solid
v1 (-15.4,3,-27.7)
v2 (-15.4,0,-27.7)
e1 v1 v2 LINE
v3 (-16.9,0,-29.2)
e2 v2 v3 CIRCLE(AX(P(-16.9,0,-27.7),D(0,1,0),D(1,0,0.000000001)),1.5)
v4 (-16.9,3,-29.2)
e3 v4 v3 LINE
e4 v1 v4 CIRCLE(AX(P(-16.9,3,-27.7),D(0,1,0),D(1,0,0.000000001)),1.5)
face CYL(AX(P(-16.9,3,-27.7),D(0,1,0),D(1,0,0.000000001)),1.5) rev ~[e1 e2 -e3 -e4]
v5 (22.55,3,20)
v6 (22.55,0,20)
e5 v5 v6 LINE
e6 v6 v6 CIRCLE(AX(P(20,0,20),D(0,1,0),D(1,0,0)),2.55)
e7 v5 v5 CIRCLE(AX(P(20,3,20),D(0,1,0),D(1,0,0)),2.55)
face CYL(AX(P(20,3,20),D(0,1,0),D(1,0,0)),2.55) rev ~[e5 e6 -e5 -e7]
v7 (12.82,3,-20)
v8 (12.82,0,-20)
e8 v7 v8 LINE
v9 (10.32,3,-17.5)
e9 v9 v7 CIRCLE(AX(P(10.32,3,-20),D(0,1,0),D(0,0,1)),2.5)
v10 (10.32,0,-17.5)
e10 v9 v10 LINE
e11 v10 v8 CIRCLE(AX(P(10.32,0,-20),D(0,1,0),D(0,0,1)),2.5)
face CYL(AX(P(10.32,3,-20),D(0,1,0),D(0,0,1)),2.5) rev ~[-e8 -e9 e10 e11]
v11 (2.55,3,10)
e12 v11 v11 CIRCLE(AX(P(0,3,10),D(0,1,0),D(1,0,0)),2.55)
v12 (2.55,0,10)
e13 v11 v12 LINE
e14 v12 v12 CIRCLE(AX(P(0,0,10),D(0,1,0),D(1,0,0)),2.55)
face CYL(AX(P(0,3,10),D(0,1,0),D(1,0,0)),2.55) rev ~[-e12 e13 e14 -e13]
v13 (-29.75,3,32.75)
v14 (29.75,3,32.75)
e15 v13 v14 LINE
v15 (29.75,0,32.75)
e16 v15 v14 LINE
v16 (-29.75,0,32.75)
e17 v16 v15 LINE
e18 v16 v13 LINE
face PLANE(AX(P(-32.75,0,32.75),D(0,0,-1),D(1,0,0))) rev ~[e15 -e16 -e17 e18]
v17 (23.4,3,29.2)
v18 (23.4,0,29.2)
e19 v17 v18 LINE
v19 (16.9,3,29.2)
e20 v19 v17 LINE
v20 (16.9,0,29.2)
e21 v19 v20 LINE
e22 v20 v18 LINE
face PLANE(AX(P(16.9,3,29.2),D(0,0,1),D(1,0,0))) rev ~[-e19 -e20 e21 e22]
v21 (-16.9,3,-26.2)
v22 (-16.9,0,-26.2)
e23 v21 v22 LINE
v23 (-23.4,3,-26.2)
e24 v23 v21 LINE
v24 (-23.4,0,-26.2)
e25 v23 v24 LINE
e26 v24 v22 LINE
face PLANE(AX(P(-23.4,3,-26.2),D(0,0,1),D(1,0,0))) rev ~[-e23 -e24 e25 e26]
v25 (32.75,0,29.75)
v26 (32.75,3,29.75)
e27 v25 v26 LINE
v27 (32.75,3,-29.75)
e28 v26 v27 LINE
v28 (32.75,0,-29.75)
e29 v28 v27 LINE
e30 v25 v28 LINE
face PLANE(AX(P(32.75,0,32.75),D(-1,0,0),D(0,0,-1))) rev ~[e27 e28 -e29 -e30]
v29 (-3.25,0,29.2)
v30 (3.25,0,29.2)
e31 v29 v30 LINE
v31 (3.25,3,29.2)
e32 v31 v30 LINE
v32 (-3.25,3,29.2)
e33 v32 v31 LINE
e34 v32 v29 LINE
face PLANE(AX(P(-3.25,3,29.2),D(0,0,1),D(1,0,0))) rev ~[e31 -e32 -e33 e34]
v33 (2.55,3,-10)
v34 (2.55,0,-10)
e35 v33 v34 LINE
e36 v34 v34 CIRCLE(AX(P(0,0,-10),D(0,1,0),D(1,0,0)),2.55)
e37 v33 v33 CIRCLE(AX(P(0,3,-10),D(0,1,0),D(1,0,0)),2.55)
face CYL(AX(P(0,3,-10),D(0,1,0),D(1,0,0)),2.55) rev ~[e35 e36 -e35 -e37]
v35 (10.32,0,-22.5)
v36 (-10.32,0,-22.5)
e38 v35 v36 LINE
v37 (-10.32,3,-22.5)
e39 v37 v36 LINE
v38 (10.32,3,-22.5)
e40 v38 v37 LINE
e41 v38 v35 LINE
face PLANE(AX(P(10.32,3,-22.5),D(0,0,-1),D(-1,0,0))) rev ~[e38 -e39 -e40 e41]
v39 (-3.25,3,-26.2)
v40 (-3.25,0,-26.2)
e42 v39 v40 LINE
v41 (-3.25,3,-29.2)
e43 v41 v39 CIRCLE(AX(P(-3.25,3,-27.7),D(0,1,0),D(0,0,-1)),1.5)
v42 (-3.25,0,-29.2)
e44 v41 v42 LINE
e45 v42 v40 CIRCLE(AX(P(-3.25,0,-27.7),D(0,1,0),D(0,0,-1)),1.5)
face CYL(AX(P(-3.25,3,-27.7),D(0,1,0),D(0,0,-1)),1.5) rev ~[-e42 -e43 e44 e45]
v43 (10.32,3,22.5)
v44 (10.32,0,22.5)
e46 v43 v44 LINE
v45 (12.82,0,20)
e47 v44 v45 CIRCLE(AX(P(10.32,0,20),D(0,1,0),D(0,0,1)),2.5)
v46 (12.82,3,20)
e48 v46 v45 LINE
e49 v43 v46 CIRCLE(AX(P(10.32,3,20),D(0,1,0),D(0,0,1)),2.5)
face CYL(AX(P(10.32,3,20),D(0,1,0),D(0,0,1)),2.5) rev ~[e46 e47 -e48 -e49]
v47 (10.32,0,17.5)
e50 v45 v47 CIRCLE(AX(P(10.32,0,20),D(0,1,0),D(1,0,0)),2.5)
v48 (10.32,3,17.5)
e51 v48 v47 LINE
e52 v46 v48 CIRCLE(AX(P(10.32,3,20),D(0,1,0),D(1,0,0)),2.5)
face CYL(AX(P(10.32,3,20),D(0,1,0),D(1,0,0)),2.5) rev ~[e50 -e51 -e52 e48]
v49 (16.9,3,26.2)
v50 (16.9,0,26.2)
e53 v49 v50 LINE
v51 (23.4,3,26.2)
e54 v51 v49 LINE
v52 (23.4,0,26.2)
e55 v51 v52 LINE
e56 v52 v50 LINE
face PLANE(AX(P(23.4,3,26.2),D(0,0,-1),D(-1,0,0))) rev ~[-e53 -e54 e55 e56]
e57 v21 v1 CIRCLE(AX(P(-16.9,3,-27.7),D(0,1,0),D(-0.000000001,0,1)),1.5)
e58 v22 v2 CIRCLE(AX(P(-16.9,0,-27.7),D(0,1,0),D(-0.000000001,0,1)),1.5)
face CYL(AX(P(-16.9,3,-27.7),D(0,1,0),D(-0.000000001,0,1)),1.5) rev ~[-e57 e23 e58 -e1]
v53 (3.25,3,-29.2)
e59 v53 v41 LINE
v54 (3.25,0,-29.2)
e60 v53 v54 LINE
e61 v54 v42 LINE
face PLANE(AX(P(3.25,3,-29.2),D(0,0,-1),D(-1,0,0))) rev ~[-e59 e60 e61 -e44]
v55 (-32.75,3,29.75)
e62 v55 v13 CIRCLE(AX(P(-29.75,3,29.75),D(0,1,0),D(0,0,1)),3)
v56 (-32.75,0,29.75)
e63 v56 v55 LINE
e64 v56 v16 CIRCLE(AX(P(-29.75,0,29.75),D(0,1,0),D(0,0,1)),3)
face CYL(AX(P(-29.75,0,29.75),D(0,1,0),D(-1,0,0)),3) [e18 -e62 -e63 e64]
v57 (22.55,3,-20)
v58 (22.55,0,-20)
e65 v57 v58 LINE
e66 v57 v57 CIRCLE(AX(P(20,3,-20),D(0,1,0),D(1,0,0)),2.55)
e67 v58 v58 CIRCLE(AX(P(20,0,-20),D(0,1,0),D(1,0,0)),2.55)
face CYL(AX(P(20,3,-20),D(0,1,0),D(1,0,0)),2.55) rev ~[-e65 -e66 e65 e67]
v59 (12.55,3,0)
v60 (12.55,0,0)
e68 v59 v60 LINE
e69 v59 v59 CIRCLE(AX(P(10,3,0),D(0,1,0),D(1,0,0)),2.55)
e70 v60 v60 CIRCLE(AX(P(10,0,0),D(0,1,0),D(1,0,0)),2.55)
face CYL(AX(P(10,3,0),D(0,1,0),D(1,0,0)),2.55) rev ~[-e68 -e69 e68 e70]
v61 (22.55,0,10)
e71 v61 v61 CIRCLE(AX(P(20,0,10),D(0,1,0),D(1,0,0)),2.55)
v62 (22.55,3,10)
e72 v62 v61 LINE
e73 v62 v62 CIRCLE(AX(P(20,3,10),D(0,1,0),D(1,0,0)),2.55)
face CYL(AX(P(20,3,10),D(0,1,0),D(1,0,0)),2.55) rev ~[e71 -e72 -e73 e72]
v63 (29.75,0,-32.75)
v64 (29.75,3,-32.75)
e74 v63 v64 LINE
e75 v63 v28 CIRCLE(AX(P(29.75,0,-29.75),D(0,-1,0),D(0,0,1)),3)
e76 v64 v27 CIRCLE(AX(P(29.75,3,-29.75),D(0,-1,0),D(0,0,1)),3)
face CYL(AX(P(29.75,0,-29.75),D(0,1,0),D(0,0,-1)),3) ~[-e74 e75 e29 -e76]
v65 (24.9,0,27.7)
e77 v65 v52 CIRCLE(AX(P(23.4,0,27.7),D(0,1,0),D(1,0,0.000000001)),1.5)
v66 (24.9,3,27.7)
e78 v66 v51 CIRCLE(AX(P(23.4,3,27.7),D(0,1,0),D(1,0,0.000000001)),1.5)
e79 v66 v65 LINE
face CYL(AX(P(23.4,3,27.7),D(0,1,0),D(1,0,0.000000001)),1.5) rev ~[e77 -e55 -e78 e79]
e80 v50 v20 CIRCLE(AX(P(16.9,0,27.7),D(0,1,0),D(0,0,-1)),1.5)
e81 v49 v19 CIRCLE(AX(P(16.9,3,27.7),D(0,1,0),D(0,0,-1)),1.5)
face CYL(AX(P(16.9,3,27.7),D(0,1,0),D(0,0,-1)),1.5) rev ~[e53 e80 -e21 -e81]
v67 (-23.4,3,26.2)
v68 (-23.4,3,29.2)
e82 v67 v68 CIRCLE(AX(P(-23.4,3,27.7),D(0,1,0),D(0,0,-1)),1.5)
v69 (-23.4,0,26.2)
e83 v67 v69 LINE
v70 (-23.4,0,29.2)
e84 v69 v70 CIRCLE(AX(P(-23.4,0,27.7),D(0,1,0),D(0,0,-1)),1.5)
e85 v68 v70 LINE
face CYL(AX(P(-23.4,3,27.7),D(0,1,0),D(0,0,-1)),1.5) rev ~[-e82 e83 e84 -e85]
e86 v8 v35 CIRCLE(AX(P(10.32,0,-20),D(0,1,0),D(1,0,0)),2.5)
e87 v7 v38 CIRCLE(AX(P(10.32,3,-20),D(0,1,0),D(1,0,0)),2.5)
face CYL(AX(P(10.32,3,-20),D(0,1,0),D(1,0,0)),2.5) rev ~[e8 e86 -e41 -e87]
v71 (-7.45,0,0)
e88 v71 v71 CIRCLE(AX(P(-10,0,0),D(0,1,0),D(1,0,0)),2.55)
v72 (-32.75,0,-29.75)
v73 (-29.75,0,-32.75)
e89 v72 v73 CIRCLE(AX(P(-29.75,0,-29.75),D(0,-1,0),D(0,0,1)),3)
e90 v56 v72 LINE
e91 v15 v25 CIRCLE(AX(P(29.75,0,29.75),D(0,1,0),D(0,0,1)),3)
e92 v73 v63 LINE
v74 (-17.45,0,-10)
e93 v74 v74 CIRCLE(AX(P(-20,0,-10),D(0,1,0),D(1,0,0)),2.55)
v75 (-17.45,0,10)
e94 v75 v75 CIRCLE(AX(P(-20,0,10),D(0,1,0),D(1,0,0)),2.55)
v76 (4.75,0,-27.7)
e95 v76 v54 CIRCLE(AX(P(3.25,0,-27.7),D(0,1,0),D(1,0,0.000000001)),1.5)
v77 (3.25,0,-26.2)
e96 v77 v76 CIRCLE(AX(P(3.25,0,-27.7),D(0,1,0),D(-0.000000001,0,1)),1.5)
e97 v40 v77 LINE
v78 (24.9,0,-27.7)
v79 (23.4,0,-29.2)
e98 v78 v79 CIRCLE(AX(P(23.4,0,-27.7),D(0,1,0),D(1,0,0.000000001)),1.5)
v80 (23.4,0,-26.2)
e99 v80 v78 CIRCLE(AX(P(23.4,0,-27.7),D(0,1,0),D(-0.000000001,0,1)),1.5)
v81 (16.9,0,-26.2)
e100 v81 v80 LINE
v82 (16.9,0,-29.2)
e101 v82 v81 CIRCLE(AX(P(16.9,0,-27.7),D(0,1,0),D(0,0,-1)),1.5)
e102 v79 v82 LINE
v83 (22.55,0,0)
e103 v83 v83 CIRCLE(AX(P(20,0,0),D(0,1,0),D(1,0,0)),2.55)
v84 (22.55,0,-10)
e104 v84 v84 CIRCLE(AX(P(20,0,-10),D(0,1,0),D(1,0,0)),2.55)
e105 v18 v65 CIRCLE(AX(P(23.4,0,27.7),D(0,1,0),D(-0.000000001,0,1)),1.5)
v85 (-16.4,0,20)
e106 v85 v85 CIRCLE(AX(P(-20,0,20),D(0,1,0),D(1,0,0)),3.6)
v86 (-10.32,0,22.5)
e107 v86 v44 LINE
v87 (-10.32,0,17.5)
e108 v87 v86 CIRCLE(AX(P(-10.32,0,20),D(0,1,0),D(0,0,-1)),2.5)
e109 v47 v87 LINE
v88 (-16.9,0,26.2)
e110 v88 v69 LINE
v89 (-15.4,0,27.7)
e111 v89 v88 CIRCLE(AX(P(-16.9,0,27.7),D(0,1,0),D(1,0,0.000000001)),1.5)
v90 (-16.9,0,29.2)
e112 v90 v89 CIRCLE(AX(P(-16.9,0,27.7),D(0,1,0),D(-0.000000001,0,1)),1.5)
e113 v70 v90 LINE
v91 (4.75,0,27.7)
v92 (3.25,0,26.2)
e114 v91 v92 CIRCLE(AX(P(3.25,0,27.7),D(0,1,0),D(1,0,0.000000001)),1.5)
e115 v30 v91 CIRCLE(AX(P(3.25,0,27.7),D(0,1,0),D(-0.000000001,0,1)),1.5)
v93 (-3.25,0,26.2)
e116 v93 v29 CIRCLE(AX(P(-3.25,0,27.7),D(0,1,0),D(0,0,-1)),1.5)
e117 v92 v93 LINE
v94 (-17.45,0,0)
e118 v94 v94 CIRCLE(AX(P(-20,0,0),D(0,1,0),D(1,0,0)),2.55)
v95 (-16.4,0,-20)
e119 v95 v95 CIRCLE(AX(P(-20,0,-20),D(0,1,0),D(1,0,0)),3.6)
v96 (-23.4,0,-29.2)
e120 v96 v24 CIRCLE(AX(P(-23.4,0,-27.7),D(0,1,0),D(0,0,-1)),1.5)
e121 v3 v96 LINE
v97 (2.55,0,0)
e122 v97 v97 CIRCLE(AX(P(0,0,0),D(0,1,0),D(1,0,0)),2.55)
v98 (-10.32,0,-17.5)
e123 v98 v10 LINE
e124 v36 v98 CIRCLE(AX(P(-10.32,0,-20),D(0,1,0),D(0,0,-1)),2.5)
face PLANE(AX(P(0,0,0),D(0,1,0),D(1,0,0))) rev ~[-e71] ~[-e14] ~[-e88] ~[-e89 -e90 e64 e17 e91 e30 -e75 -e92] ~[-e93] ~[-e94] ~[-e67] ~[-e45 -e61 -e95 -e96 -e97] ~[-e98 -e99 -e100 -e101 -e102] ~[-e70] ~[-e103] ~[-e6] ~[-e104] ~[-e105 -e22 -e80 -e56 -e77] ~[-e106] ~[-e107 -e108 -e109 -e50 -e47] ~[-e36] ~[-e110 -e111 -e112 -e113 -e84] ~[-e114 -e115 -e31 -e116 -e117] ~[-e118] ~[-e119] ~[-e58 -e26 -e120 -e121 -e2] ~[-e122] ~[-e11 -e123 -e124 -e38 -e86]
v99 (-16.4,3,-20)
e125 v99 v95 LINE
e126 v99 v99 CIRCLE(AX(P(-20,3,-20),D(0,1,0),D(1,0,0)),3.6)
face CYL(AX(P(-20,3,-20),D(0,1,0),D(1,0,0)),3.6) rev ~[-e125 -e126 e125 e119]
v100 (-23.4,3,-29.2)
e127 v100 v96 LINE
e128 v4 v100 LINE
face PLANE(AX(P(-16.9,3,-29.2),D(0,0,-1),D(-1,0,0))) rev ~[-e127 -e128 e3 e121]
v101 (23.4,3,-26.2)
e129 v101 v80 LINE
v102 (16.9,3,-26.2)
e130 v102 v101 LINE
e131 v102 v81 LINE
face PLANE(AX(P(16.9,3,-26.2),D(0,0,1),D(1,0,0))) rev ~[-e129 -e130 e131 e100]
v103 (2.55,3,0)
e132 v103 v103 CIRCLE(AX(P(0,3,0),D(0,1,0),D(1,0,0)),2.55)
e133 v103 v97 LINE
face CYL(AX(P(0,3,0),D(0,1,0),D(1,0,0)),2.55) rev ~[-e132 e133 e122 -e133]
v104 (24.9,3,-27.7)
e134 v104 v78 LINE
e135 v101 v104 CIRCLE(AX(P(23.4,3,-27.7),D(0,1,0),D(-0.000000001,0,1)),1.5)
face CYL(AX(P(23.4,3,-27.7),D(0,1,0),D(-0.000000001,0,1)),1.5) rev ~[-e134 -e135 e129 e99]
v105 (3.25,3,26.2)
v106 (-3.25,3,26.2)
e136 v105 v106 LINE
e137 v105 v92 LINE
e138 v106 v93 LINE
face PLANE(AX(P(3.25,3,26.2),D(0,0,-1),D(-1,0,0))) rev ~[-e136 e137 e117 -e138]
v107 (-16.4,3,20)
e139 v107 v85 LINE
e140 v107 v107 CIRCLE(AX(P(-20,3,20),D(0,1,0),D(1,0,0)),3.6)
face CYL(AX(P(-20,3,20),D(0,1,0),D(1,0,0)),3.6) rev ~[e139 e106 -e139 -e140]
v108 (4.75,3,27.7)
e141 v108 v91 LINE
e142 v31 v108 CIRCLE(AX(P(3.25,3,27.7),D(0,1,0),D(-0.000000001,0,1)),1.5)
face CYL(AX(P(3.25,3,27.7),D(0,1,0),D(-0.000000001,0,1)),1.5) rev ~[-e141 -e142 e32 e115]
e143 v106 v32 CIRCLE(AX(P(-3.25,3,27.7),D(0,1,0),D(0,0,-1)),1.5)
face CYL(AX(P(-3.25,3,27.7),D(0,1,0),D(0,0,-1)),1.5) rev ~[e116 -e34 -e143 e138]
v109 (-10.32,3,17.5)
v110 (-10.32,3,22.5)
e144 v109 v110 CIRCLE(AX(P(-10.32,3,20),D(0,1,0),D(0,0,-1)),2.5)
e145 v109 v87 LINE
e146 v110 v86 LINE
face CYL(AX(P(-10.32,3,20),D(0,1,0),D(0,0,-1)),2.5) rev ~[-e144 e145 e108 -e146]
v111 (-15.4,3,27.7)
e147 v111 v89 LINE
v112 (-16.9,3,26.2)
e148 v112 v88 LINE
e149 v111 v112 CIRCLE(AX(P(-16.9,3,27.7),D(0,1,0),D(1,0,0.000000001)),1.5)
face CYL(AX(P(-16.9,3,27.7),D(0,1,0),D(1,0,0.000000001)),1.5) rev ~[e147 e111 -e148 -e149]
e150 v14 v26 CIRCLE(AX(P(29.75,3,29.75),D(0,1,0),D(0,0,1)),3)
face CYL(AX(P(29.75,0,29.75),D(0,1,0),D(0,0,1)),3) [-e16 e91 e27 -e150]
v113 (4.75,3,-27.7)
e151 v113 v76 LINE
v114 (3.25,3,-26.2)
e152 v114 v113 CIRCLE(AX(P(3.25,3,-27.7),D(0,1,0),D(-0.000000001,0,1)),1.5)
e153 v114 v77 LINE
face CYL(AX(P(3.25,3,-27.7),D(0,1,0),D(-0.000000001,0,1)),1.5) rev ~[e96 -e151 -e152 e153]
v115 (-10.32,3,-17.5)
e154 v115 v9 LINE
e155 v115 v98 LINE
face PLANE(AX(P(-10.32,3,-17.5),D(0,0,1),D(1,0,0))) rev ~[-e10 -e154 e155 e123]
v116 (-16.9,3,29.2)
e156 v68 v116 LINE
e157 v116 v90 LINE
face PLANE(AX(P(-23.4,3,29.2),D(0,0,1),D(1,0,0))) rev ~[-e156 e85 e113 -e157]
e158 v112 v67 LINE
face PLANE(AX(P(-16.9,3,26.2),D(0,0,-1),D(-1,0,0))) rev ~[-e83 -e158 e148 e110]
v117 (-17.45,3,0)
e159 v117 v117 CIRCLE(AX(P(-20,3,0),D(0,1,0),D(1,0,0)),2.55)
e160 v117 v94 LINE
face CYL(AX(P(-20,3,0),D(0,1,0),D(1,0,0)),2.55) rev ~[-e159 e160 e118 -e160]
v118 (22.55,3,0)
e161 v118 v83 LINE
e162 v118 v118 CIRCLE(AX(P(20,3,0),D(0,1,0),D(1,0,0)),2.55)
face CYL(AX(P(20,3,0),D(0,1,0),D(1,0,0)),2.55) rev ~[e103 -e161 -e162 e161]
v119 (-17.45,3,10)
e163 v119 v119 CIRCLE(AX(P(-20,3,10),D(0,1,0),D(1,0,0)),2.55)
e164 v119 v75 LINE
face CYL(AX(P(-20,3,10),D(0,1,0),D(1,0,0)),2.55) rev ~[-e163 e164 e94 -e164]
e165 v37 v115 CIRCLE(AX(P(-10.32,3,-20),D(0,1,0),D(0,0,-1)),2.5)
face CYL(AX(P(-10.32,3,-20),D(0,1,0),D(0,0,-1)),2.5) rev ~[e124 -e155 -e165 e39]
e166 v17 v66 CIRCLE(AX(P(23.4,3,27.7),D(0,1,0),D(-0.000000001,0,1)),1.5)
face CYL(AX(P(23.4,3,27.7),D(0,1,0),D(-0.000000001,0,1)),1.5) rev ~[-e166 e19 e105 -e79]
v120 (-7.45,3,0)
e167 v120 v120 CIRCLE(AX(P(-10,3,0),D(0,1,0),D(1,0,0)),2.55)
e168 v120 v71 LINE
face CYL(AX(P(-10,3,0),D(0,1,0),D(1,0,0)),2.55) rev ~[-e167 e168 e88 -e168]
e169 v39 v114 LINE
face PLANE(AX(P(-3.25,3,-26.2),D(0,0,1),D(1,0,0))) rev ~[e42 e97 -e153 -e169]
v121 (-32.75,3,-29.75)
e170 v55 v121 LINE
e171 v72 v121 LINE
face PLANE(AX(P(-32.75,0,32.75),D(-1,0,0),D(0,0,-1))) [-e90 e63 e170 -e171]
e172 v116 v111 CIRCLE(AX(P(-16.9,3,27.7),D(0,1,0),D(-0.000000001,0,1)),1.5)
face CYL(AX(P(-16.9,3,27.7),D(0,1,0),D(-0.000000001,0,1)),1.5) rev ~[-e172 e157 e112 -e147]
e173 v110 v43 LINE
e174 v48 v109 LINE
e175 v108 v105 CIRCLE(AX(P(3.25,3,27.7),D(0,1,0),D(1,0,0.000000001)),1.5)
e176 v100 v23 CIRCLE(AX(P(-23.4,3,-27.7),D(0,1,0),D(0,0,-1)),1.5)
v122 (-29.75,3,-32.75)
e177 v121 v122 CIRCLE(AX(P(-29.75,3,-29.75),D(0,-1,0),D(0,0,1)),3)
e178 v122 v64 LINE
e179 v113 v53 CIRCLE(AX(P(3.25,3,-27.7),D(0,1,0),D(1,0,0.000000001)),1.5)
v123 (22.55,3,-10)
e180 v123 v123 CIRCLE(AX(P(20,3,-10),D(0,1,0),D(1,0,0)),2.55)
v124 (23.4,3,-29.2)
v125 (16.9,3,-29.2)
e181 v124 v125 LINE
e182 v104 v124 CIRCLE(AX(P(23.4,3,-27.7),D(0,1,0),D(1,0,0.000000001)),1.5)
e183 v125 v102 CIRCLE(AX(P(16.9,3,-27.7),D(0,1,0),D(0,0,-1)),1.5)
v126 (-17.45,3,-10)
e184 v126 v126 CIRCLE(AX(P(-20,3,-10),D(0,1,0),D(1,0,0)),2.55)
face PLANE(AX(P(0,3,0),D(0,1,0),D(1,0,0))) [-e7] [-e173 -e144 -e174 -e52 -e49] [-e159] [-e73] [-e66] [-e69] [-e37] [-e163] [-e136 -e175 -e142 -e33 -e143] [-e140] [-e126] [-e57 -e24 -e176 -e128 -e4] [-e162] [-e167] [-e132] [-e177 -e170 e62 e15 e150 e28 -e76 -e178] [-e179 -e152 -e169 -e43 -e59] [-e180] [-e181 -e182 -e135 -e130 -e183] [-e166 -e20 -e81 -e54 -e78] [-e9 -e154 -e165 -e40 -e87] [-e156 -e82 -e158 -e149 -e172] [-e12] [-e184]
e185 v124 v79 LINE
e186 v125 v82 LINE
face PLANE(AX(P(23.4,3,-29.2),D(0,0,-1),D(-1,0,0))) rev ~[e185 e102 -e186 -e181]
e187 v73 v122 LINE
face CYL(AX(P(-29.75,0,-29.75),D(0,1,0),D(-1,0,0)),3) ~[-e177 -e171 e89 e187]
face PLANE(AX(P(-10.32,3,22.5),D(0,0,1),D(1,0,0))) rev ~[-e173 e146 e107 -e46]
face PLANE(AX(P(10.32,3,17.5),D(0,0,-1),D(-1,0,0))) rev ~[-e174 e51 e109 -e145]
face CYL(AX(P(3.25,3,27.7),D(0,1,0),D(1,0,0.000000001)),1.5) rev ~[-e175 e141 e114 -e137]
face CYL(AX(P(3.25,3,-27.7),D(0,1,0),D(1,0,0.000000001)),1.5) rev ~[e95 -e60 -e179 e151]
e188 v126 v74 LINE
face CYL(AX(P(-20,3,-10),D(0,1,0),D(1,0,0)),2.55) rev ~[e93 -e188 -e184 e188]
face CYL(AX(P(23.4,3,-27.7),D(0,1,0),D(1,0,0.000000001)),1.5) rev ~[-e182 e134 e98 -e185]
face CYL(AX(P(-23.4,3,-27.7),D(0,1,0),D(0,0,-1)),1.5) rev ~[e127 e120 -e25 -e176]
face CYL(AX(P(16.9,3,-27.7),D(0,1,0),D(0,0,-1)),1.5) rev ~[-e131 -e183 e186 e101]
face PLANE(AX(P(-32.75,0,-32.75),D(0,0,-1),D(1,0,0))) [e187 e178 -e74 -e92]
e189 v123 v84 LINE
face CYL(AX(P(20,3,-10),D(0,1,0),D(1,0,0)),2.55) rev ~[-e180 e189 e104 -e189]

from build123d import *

# Parameters (mm, degrees)
SKETCH1_W           = 65.5
SKETCH1_H           = 65.5
BOSS_EXTRUDE1_DEPTH = 3
SKETCH2_R           = 3.6
SKETCH2_R_2         = 2.55
CUT_EXTRUDE1_DEPTH  = 4
FILLET1_R           = 3


with BuildPart() as part:
    # Sketch1 → Boss-Extrude1 (new body)
    with BuildSketch(Plane(origin=(0, 0, 0), x_dir=(1, 0, 0), z_dir=(0, 1, 0))):
        Rectangle(SKETCH1_W, SKETCH1_H)
    extrude(amount=BOSS_EXTRUDE1_DEPTH)

    # Sketch2 → Cut-Extrude1 (cut, through all)
    with BuildSketch(Plane(origin=(0, 3, 0), x_dir=(1, 0, 0), z_dir=(0, 1, 0))):
        with BuildLine():
            ThreePointArc((-23.4, 29.2), (-24.9, 27.7), (-23.4, 26.2))
            Line((-23.4, 26.2), (-23.4, 29.2))
        make_face()
        with BuildLine():
            Line((-23.4, 29.2), (-23.4, 26.2))
            ThreePointArc((-23.4, 26.2), (-22.339339828, 26.639339828), (-21.9, 27.7))
            ThreePointArc((-21.9, 27.7), (-22.339339828, 28.760660172), (-23.4, 29.2))
        make_face()
        with BuildLine():
            Line((-23.4, 26.2), (-16.9, 26.2))
            ThreePointArc((-16.9, 26.2), (-18.4, 27.7), (-16.9, 29.2))
            Line((-16.9, 29.2), (-23.4, 29.2))
            ThreePointArc((-23.4, 29.2), (-22.339339828, 28.760660172), (-21.9, 27.7))
            ThreePointArc((-21.9, 27.7), (-22.339339828, 26.639339828), (-23.4, 26.2))
        make_face()
        with BuildLine():
            ThreePointArc((-16.9, 29.2), (-18.4, 27.7), (-16.9, 26.2))
            Line((-16.9, 26.2), (-16.9, 29.2))
        make_face()
        with BuildLine():
            Line((-16.9, 29.2), (-16.9, 26.2))
            ThreePointArc((-16.9, 26.2), (-15.839339828, 26.639339828), (-15.4, 27.7))
            ThreePointArc((-15.4, 27.7), (-15.839339828, 28.760660172), (-16.9, 29.2))
        make_face()
        with BuildLine():
            ThreePointArc((-1.75, 27.7), (-2.189339828, 28.760660172), (-3.25, 29.2))
            Line((-3.25, 29.2), (-3.25, 26.2))
            ThreePointArc((-3.25, 26.2), (-2.189339828, 26.639339828), (-1.75, 27.7))
        make_face()
        with BuildLine():
            Line((-3.25, 26.2), (-3.25, 29.2))
            ThreePointArc((-3.25, 29.2), (-4.75, 27.7), (-3.25, 26.2))
        make_face()
        with BuildLine():
            ThreePointArc((3.25, 26.2), (1.75, 27.7), (3.25, 29.2))
            Line((3.25, 29.2), (-3.25, 29.2))
            ThreePointArc((-3.25, 29.2), (-2.189339828, 28.760660172), (-1.75, 27.7))
            ThreePointArc((-1.75, 27.7), (-2.189339828, 26.639339828), (-3.25, 26.2))
            Line((-3.25, 26.2), (3.25, 26.2))
        make_face()
        with BuildLine():
            ThreePointArc((4.75, 27.7), (4.310660172, 28.760660172), (3.25, 29.2))
            Line((3.25, 29.2), (3.25, 26.2))
            ThreePointArc((3.25, 26.2), (4.310660172, 26.639339828), (4.75, 27.7))
        make_face()
        with BuildLine():
            Line((3.25, 26.2), (3.25, 29.2))
            ThreePointArc((3.25, 29.2), (1.75, 27.7), (3.25, 26.2))
        make_face()
        with BuildLine():
            ThreePointArc((18.4, 27.7), (17.960660172, 28.760660172), (16.9, 29.2))
            Line((16.9, 29.2), (16.9, 26.2))
            ThreePointArc((16.9, 26.2), (17.960660172, 26.639339828), (18.4, 27.7))
        make_face()
        with BuildLine():
            Line((16.9, 26.2), (16.9, 29.2))
            ThreePointArc((16.9, 29.2), (15.4, 27.7), (16.9, 26.2))
        make_face()
        with BuildLine():
            ThreePointArc((23.4, 26.2), (21.9, 27.7), (23.4, 29.2))
            Line((23.4, 29.2), (16.9, 29.2))
            ThreePointArc((16.9, 29.2), (17.960660172, 28.760660172), (18.4, 27.7))
            ThreePointArc((18.4, 27.7), (17.960660172, 26.639339828), (16.9, 26.2))
            Line((16.9, 26.2), (23.4, 26.2))
        make_face()
        with BuildLine():
            ThreePointArc((24.9, 27.7), (24.460660172, 28.760660172), (23.4, 29.2))
            Line((23.4, 29.2), (23.4, 26.2))
            ThreePointArc((23.4, 26.2), (24.460660172, 26.639339828), (24.9, 27.7))
        make_face()
        with BuildLine():
            Line((23.4, 26.2), (23.4, 29.2))
            ThreePointArc((23.4, 29.2), (21.9, 27.7), (23.4, 26.2))
        make_face()
        with Locations((-20, 20)):
            Circle(SKETCH2_R)
        with BuildLine():
            ThreePointArc((-10.32, 22.5), (-12.82, 20), (-10.32, 17.5))
            Line((-10.32, 17.5), (-10.32, 22.5))
        make_face()
        with BuildLine():
            Line((-10.32, 22.5), (-10.32, 17.5))
            ThreePointArc((-10.32, 17.5), (-8.552233047, 18.232233047), (-7.82, 20))
            ThreePointArc((-7.82, 20), (-8.552233047, 21.767766953), (-10.32, 22.5))
        make_face()
        with BuildLine():
            Line((-10.32, 17.5), (10.32, 17.5))
            ThreePointArc((10.32, 17.5), (7.82, 20), (10.32, 22.5))
            Line((10.32, 22.5), (-10.32, 22.5))
            ThreePointArc((-10.32, 22.5), (-8.552233047, 21.767766953), (-7.82, 20))
            ThreePointArc((-7.82, 20), (-8.552233047, 18.232233047), (-10.32, 17.5))
        make_face()
        with BuildLine():
            ThreePointArc((10.32, 22.5), (7.82, 20), (10.32, 17.5))
            Line((10.32, 17.5), (10.32, 22.5))
        make_face()
        with BuildLine():
            Line((10.32, 22.5), (10.32, 17.5))
            ThreePointArc((10.32, 17.5), (12.087766953, 18.232233047), (12.82, 20))
            ThreePointArc((12.82, 20), (12.087766953, 21.767766953), (10.32, 22.5))
        make_face()
        with Locations((20, 20)):
            Circle(SKETCH2_R_2)
        with Locations((-20, 10)):
            Circle(SKETCH2_R_2)
        with Locations((0, 10)):
            Circle(SKETCH2_R_2)
        with Locations((20, 10)):
            Circle(SKETCH2_R_2)
        with Locations((-20, 0)):
            Circle(SKETCH2_R_2)
        with Locations((-10, 0)):
            Circle(SKETCH2_R_2)
        Circle(SKETCH2_R_2)
        with Locations((10, 0)):
            Circle(SKETCH2_R_2)
        with Locations((20, 0)):
            Circle(SKETCH2_R_2)
        with Locations((-20, -10)):
            Circle(SKETCH2_R_2)
        with Locations((0, -10)):
            Circle(SKETCH2_R_2)
        with Locations((20, -10)):
            Circle(SKETCH2_R_2)
        with Locations((-20, -20)):
            Circle(SKETCH2_R)
        with BuildLine():
            ThreePointArc((-7.82, -20), (-8.552233047, -18.232233047), (-10.32, -17.5))
            Line((-10.32, -17.5), (-10.32, -22.5))
            ThreePointArc((-10.32, -22.5), (-8.552233047, -21.767766953), (-7.82, -20))
        make_face()
        with BuildLine():
            Line((-10.32, -22.5), (-10.32, -17.5))
            ThreePointArc((-10.32, -17.5), (-12.82, -20), (-10.32, -22.5))
        make_face()
        with BuildLine():
            Line((0, -22.5), (0, -17.5))
            Line((0, -17.5), (-10.32, -17.5))
            ThreePointArc((-10.32, -17.5), (-8.552233047, -18.232233047), (-7.82, -20))
            ThreePointArc((-7.82, -20), (-8.552233047, -21.767766953), (-10.32, -22.5))
            Line((-10.32, -22.5), (0, -22.5))
        make_face()
        with BuildLine():
            ThreePointArc((10.32, -22.5), (7.82, -20), (10.32, -17.5))
            Line((10.32, -17.5), (0, -17.5))
            Line((0, -17.5), (0, -22.5))
            Line((0, -22.5), (10.32, -22.5))
        make_face()
        with BuildLine():
            ThreePointArc((12.82, -20), (12.087766953, -18.232233047), (10.32, -17.5))
            Line((10.32, -17.5), (10.32, -22.5))
            ThreePointArc((10.32, -22.5), (12.087766953, -21.767766953), (12.82, -20))
        make_face()
        with BuildLine():
            Line((10.32, -22.5), (10.32, -17.5))
            ThreePointArc((10.32, -17.5), (7.82, -20), (10.32, -22.5))
        make_face()
        with Locations((20, -20)):
            Circle(SKETCH2_R_2)
        with BuildLine():
            ThreePointArc((-23.4, -26.2), (-24.9, -27.7), (-23.4, -29.2))
            Line((-23.4, -29.2), (-23.4, -26.2))
        make_face()
        with BuildLine():
            Line((-23.4, -26.2), (-23.4, -29.2))
            ThreePointArc((-23.4, -29.2), (-22.339339828, -28.760660172), (-21.9, -27.7))
            ThreePointArc((-21.9, -27.7), (-22.339339828, -26.639339828), (-23.4, -26.2))
        make_face()
        with BuildLine():
            Line((-23.4, -29.2), (-16.9, -29.2))
            ThreePointArc((-16.9, -29.2), (-18.4, -27.7), (-16.9, -26.2))
            Line((-16.9, -26.2), (-23.4, -26.2))
            ThreePointArc((-23.4, -26.2), (-22.339339828, -26.639339828), (-21.9, -27.7))
            ThreePointArc((-21.9, -27.7), (-22.339339828, -28.760660172), (-23.4, -29.2))
        make_face()
        with BuildLine():
            ThreePointArc((-16.9, -26.2), (-18.4, -27.7), (-16.9, -29.2))
            Line((-16.9, -29.2), (-16.9, -26.2))
        make_face()
        with BuildLine():
            Line((-16.9, -26.2), (-16.9, -29.2))
            ThreePointArc((-16.9, -29.2), (-15.839339828, -28.760660172), (-15.4, -27.7))
            ThreePointArc((-15.4, -27.7), (-15.839339828, -26.639339828), (-16.9, -26.2))
        make_face()
        with BuildLine():
            ThreePointArc((-3.25, -26.2), (-4.75, -27.7), (-3.25, -29.2))
            Line((-3.25, -29.2), (-3.25, -26.2))
        make_face()
        with BuildLine():
            Line((-3.25, -26.2), (-3.25, -29.2))
            ThreePointArc((-3.25, -29.2), (-2.189339828, -28.760660172), (-1.75, -27.7))
            ThreePointArc((-1.75, -27.7), (-2.189339828, -26.639339828), (-3.25, -26.2))
        make_face()
        with BuildLine():
            Line((-3.25, -29.2), (3.25, -29.2))
            ThreePointArc((3.25, -29.2), (1.75, -27.7), (3.25, -26.2))
            Line((3.25, -26.2), (-3.25, -26.2))
            ThreePointArc((-3.25, -26.2), (-2.189339828, -26.639339828), (-1.75, -27.7))
            ThreePointArc((-1.75, -27.7), (-2.189339828, -28.760660172), (-3.25, -29.2))
        make_face()
        with BuildLine():
            ThreePointArc((3.25, -26.2), (1.75, -27.7), (3.25, -29.2))
            Line((3.25, -29.2), (3.25, -26.2))
        make_face()
        with BuildLine():
            Line((3.25, -26.2), (3.25, -29.2))
            ThreePointArc((3.25, -29.2), (4.310660172, -28.760660172), (4.75, -27.7))
            ThreePointArc((4.75, -27.7), (4.310660172, -26.639339828), (3.25, -26.2))
        make_face()
        with BuildLine():
            ThreePointArc((16.9, -26.2), (15.4, -27.7), (16.9, -29.2))
            Line((16.9, -29.2), (16.9, -26.2))
        make_face()
        with BuildLine():
            Line((16.9, -26.2), (16.9, -29.2))
            ThreePointArc((16.9, -29.2), (17.960660172, -28.760660172), (18.4, -27.7))
            ThreePointArc((18.4, -27.7), (17.960660172, -26.639339828), (16.9, -26.2))
        make_face()
        with BuildLine():
            Line((16.9, -29.2), (23.4, -29.2))
            ThreePointArc((23.4, -29.2), (21.9, -27.7), (23.4, -26.2))
            Line((23.4, -26.2), (16.9, -26.2))
            ThreePointArc((16.9, -26.2), (17.960660172, -26.639339828), (18.4, -27.7))
            ThreePointArc((18.4, -27.7), (17.960660172, -28.760660172), (16.9, -29.2))
        make_face()
        with BuildLine():
            ThreePointArc((23.4, -26.2), (21.9, -27.7), (23.4, -29.2))
            Line((23.4, -29.2), (23.4, -26.2))
        make_face()
        with BuildLine():
            Line((23.4, -26.2), (23.4, -29.2))
            ThreePointArc((23.4, -29.2), (24.460660172, -28.760660172), (24.9, -27.7))
            ThreePointArc((24.9, -27.7), (24.460660172, -26.639339828), (23.4, -26.2))
        make_face()
    extrude(amount=-CUT_EXTRUDE1_DEPTH, mode=Mode.SUBTRACT)

    # Fillet1
    fillet1_edges = [part.edges().sort_by_distance(p)[0] for p in [
        (-32.75, 1.5, -32.75),
        (32.75, 1.5, -32.75),
        (32.75, 1.5, 32.75),
        (-32.75, 1.5, 32.75),
    ]]
    fillet(fillet1_edges, radius=FILLET1_R)


solid = part.part
